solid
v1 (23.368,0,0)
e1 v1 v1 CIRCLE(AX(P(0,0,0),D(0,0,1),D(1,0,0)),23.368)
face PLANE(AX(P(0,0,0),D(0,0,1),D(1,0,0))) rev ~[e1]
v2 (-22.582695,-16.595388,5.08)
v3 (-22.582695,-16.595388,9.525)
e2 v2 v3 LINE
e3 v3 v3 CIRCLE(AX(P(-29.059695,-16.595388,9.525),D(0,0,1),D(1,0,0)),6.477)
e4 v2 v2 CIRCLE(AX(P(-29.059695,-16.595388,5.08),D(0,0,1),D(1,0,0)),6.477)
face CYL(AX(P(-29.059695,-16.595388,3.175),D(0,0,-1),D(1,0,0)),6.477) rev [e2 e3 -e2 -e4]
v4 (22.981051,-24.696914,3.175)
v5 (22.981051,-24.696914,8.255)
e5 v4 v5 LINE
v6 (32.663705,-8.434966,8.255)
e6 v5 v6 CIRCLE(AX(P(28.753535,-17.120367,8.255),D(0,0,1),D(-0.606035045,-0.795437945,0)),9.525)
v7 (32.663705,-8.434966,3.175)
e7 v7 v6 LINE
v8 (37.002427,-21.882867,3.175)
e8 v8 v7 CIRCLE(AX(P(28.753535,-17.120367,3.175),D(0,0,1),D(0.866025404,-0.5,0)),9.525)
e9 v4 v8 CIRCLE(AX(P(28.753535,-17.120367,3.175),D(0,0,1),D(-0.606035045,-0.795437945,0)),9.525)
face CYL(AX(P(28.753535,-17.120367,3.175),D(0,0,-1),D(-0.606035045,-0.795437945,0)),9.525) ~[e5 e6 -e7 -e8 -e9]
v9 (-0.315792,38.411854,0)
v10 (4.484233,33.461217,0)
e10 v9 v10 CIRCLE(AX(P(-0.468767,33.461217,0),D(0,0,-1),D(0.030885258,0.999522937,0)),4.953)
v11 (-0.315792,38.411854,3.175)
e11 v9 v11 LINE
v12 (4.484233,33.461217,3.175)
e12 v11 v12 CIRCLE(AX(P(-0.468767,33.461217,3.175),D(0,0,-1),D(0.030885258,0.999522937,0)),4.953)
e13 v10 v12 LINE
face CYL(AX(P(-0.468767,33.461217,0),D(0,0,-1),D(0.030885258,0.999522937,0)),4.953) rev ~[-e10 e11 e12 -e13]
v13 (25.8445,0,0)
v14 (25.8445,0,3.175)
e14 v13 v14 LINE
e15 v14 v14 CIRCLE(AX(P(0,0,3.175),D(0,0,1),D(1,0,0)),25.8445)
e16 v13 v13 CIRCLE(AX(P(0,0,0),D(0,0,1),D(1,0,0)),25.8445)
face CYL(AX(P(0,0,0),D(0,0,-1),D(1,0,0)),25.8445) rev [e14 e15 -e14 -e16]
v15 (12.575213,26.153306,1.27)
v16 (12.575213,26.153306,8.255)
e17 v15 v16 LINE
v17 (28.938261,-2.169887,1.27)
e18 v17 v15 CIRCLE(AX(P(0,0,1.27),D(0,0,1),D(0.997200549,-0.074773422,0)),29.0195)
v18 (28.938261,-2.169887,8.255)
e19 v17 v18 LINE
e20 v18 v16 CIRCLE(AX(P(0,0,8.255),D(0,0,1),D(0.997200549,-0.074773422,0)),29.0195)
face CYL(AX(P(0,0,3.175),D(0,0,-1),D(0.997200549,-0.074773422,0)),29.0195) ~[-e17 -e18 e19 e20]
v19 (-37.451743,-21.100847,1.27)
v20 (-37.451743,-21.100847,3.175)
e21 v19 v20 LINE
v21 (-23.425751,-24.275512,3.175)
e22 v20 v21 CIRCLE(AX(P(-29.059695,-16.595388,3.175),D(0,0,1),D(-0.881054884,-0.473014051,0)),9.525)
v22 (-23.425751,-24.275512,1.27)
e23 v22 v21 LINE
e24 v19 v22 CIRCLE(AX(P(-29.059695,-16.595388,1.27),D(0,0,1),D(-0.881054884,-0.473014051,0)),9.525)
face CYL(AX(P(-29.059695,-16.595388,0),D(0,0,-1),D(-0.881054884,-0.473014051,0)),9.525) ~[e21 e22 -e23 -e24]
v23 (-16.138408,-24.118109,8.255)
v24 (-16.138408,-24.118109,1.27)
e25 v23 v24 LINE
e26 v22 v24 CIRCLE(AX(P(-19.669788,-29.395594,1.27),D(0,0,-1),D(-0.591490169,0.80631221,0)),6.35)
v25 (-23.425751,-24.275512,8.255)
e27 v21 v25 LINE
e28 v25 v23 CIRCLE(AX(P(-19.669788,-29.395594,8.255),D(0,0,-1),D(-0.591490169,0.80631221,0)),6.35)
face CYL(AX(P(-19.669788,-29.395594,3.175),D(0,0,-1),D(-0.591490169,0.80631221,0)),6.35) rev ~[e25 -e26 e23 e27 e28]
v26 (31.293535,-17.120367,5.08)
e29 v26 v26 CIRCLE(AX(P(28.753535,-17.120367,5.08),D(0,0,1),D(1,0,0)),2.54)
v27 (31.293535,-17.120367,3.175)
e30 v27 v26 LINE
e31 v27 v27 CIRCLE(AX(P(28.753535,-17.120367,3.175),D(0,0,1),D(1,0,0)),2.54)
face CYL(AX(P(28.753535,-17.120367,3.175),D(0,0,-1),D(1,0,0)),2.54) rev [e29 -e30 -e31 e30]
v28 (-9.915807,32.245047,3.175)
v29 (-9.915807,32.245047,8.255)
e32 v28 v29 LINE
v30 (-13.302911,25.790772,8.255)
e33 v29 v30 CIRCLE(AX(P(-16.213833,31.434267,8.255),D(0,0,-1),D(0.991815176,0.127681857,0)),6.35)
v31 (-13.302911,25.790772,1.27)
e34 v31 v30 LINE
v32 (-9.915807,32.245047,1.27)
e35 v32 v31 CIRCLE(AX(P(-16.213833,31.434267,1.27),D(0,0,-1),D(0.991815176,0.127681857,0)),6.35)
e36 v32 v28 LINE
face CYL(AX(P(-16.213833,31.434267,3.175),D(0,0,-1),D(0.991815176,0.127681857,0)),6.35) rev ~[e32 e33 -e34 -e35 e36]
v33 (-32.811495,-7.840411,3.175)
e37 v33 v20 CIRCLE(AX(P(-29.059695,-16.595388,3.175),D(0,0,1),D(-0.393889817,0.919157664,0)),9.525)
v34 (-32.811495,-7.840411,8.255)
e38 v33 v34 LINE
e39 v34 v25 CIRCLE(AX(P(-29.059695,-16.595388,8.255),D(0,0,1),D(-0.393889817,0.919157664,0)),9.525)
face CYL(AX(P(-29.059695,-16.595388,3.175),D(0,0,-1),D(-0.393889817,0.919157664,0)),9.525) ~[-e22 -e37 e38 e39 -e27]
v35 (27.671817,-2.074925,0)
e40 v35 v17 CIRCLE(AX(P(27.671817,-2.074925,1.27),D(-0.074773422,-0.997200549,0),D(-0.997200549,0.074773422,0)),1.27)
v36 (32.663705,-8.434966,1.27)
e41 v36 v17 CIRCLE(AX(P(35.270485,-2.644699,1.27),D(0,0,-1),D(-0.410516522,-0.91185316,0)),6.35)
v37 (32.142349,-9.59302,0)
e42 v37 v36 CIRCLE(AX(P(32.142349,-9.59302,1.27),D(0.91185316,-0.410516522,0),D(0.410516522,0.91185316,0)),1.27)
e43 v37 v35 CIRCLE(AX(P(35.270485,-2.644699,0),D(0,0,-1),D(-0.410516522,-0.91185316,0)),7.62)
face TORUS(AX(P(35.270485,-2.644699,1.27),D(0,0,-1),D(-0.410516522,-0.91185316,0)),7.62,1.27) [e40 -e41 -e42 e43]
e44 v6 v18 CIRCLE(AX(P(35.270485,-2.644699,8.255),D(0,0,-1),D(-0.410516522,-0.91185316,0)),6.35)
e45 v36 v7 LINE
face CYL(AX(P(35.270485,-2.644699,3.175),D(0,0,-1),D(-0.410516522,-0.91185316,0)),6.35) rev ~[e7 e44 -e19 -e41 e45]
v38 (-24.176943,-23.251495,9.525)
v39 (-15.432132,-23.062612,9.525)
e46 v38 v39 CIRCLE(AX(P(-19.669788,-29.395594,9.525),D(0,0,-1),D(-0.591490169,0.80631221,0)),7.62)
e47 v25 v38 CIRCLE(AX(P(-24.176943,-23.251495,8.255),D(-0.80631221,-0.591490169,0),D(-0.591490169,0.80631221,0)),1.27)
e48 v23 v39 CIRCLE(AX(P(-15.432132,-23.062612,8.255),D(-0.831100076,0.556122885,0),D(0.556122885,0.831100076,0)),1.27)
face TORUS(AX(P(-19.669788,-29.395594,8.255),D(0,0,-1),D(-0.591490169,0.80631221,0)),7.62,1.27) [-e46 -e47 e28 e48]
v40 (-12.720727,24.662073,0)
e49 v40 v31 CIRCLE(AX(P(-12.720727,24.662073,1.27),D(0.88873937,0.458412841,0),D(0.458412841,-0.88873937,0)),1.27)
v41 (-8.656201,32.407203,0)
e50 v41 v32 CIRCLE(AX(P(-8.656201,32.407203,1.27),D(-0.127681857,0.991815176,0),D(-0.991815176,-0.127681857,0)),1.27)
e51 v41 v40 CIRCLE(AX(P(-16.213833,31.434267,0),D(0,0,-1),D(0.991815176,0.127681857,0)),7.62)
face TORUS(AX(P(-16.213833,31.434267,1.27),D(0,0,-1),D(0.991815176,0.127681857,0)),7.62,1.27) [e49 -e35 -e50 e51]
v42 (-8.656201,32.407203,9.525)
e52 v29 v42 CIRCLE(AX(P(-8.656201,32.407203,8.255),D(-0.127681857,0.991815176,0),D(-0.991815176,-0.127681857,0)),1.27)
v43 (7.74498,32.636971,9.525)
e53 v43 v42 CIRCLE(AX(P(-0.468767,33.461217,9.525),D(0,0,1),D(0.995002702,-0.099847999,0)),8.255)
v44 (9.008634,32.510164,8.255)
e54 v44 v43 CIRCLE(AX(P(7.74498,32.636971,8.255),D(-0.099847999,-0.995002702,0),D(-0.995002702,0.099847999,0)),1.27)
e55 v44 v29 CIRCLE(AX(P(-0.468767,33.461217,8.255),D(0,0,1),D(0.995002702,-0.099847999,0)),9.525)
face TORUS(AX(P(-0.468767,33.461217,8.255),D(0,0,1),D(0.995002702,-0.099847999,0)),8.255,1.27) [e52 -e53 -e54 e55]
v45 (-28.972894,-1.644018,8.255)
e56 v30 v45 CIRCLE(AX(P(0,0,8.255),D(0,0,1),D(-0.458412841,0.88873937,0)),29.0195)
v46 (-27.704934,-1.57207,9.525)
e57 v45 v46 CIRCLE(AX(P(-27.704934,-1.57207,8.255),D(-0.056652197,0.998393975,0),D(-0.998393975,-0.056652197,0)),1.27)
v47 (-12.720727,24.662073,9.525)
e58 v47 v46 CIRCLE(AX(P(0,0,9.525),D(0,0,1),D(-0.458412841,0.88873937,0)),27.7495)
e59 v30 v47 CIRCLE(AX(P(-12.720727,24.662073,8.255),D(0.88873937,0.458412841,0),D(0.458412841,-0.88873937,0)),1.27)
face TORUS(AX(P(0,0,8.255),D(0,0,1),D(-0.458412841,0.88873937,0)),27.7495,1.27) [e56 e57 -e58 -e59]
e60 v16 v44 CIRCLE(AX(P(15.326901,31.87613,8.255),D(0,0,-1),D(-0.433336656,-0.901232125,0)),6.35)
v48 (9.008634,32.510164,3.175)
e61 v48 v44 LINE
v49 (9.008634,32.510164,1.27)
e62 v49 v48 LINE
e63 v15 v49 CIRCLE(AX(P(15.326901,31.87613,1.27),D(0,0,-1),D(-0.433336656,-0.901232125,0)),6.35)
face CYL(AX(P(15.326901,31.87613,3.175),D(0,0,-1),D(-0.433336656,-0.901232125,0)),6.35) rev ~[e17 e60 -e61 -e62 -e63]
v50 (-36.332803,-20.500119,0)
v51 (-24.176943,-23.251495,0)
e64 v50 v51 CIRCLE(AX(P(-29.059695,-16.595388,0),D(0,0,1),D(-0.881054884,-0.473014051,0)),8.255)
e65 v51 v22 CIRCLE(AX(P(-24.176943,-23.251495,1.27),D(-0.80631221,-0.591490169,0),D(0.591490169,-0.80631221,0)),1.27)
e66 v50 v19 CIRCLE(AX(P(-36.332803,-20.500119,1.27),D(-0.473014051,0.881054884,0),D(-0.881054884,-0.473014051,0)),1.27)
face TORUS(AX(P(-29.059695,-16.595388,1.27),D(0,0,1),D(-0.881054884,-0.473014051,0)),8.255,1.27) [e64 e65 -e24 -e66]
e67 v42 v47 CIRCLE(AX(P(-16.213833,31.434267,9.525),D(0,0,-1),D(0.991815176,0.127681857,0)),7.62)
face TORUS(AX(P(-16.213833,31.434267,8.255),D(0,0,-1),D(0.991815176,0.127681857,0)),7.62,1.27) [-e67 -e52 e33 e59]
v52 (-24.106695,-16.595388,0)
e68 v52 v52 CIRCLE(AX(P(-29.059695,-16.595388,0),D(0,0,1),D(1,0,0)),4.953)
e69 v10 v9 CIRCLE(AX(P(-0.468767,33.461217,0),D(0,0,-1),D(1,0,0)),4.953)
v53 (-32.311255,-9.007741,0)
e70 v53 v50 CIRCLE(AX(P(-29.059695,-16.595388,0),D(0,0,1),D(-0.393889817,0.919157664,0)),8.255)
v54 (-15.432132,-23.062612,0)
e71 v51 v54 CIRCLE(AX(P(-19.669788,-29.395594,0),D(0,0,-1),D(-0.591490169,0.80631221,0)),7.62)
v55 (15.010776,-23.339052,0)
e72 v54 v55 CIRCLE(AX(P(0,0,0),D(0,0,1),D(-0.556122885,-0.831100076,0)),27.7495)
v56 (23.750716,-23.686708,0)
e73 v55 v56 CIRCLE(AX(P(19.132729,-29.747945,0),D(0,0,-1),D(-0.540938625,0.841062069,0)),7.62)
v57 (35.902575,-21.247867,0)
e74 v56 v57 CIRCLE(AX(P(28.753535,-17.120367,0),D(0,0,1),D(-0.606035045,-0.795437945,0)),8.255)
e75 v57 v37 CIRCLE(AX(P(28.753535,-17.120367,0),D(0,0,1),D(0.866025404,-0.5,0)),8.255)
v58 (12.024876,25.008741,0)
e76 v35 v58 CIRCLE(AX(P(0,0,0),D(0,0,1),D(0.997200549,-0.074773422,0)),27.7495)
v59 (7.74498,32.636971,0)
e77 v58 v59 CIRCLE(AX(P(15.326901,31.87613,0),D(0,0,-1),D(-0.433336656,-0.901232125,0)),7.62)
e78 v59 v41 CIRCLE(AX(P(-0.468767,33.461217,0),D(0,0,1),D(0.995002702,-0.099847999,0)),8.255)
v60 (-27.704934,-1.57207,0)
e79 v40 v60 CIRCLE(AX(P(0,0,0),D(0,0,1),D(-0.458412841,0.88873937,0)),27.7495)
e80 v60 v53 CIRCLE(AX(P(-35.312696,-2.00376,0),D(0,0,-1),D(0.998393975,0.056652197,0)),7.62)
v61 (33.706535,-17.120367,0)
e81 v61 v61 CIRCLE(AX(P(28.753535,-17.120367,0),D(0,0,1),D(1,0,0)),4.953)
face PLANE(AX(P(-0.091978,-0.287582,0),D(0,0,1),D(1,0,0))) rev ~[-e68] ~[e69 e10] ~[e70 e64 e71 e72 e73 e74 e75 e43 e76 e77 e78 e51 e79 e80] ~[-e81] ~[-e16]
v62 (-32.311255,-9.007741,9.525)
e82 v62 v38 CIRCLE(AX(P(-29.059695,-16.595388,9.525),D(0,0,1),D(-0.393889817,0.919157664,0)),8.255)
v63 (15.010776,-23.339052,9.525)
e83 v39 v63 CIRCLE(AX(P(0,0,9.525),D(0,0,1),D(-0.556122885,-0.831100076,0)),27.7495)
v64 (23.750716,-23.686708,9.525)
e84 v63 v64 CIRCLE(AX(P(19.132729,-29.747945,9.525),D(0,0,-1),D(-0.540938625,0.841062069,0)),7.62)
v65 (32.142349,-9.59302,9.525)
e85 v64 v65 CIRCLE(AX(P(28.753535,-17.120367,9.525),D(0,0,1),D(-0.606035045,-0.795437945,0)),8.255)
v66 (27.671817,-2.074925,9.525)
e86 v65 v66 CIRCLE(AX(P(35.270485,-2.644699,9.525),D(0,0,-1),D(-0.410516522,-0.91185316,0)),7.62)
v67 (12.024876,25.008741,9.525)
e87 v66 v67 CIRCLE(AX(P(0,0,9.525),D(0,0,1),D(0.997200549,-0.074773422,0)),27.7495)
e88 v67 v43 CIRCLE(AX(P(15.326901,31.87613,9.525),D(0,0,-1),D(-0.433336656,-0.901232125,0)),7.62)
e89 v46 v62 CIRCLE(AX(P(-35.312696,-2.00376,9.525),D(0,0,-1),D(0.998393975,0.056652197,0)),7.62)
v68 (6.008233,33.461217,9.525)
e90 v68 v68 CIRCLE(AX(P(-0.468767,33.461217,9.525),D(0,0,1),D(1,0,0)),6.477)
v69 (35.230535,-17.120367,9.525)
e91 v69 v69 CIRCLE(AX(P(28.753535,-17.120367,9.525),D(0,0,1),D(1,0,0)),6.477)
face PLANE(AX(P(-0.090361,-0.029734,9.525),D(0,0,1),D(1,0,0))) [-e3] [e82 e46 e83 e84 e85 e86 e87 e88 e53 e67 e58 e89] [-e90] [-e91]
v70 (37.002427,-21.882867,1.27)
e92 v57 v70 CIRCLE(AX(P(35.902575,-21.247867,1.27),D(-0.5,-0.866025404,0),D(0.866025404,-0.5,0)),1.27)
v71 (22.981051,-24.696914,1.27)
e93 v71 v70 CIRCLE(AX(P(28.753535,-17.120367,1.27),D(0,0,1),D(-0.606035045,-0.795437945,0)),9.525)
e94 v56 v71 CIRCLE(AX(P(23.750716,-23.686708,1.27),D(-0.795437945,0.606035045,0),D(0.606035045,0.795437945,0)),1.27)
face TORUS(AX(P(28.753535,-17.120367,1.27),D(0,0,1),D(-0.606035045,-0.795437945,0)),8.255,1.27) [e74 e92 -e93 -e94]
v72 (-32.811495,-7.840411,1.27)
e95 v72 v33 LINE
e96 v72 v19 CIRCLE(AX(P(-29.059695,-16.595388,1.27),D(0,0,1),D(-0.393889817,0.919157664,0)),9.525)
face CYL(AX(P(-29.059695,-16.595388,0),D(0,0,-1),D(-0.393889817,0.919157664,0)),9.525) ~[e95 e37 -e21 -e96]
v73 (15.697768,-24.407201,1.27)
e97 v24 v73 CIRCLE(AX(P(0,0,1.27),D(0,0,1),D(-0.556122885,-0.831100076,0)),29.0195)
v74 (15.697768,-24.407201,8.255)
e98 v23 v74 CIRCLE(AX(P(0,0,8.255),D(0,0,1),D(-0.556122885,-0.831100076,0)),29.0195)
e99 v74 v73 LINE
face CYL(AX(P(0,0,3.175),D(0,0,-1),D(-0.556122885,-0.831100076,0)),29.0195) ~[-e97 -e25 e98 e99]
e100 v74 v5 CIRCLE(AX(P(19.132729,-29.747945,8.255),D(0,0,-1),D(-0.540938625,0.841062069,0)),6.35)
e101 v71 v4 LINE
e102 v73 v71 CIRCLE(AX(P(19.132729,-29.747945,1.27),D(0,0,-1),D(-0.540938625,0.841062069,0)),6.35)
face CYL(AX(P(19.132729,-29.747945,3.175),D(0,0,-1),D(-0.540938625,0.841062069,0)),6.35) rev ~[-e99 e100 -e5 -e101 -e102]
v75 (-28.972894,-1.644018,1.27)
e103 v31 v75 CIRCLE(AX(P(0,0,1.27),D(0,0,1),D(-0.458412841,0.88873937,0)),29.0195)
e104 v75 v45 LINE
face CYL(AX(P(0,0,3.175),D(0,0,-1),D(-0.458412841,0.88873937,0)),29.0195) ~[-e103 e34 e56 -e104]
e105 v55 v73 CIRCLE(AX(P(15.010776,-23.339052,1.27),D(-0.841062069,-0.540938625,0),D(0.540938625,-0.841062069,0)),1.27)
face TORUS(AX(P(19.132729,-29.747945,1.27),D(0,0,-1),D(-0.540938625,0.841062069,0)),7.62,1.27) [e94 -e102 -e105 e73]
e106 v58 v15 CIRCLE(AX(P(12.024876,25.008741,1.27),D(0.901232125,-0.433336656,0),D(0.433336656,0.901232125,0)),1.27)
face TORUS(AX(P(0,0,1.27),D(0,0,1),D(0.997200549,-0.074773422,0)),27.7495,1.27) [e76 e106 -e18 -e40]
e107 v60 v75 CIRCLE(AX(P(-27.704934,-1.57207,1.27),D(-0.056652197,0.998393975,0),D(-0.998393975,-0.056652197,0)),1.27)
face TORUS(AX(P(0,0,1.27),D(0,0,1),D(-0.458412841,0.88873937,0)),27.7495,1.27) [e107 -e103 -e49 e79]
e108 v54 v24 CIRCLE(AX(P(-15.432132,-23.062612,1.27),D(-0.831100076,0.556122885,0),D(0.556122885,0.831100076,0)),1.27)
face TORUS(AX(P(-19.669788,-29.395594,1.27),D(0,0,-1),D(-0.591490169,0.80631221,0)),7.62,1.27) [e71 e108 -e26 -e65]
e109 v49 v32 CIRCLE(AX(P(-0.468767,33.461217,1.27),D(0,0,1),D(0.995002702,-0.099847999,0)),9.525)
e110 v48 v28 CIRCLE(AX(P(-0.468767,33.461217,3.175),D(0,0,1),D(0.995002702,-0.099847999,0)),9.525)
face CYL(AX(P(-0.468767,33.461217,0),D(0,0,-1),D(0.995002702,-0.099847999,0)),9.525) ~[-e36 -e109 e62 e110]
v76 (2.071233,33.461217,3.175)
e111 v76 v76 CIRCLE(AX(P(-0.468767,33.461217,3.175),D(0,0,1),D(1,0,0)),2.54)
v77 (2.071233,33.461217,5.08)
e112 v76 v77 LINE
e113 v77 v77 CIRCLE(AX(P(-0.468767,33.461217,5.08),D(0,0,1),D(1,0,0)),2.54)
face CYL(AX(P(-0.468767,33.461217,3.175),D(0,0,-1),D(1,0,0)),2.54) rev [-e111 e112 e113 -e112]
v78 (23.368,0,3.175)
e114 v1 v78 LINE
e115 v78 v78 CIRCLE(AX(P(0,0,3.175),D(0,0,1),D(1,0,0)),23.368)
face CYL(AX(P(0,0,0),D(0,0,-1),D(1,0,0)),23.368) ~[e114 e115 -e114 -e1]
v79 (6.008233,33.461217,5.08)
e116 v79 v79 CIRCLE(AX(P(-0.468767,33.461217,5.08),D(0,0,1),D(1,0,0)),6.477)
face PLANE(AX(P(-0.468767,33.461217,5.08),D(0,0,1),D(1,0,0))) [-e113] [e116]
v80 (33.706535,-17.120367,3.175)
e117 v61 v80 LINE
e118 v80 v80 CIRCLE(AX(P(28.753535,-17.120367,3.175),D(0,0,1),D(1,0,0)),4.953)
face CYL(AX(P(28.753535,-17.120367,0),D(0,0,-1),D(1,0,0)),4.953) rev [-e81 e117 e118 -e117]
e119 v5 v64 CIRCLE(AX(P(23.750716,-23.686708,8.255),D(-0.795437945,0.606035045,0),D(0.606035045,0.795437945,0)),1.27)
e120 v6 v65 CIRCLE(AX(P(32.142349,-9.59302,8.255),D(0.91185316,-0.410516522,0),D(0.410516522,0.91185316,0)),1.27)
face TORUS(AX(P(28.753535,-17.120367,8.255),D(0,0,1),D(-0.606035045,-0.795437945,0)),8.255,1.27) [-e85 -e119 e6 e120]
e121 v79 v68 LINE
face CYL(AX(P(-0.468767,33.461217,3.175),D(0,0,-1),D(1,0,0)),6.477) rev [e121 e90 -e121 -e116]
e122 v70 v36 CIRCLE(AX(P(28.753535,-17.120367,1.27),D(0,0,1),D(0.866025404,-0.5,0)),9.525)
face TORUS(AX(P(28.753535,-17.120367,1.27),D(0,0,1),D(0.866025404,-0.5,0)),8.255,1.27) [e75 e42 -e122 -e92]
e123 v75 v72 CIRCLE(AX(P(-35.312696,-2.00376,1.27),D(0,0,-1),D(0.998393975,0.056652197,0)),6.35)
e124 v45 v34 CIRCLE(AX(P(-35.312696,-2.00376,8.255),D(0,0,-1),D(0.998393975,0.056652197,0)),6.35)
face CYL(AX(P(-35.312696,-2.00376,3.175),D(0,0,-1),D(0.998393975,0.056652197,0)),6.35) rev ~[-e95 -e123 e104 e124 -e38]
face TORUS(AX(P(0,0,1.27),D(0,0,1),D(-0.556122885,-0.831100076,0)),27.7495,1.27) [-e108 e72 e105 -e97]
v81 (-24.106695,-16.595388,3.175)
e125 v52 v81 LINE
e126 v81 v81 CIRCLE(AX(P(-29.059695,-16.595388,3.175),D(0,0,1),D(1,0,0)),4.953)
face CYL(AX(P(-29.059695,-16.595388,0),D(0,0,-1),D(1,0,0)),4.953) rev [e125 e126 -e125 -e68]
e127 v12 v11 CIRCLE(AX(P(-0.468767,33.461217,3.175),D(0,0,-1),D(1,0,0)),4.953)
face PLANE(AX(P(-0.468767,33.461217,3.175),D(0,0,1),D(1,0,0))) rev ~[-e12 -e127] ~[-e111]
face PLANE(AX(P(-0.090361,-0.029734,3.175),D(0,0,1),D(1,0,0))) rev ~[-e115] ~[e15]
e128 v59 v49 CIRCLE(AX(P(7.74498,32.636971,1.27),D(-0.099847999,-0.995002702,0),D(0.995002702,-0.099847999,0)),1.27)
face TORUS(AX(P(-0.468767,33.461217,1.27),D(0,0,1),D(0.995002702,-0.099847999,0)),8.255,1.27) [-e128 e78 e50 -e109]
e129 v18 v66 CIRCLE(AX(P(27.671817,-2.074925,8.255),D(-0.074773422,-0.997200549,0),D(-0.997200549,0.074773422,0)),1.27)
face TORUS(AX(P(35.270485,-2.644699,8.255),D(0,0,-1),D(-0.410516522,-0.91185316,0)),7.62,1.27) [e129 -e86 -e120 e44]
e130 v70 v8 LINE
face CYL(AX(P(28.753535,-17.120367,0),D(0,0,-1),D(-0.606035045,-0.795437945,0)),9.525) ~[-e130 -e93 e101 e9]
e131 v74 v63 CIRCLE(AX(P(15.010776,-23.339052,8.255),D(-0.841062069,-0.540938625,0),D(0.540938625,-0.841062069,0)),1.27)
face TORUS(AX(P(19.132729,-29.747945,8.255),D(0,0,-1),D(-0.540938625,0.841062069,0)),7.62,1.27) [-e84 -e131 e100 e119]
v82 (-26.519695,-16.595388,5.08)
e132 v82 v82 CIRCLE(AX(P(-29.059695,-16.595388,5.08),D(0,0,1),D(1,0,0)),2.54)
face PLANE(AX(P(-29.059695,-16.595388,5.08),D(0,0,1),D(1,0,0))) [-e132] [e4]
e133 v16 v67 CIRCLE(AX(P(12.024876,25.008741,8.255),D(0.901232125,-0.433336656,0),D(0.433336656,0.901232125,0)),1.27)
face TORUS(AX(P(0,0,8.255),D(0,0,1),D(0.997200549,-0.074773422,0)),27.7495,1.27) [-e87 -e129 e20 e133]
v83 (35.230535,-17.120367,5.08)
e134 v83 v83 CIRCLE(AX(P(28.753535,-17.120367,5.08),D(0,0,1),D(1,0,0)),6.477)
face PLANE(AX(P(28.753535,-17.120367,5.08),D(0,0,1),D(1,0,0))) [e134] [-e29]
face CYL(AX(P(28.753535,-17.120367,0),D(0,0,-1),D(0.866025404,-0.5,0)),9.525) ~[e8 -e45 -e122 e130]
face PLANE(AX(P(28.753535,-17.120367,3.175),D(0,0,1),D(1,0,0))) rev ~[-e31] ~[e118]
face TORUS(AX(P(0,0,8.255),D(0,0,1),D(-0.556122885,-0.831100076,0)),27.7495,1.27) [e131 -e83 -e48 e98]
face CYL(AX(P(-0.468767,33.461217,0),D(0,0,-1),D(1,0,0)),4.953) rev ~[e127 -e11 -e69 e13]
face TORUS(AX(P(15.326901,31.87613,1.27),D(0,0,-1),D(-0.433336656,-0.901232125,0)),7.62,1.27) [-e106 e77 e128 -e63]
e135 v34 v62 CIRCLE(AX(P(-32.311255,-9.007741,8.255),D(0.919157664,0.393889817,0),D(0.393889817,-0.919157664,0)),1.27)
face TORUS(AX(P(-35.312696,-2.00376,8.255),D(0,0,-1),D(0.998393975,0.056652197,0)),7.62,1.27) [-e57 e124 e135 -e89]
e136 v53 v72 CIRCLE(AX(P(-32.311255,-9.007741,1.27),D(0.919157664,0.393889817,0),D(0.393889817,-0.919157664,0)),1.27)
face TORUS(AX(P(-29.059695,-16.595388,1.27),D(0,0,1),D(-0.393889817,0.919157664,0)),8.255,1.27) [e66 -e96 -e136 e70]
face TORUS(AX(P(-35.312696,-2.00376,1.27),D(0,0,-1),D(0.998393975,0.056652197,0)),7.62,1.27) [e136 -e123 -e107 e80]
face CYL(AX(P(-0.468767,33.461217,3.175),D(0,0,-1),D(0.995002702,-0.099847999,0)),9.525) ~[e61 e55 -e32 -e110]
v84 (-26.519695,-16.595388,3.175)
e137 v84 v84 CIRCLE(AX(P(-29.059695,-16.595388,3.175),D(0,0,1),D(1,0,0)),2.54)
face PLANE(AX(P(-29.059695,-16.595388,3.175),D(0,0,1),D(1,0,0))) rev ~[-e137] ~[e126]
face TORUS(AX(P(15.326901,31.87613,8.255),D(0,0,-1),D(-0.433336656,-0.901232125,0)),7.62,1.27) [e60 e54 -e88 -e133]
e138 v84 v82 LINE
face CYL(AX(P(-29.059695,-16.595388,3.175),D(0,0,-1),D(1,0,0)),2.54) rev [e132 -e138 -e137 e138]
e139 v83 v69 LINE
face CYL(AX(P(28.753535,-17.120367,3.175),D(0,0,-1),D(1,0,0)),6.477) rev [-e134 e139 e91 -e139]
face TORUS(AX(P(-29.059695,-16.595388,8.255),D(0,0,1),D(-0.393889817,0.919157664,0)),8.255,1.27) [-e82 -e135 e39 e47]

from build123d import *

# Parameters (mm, degrees)
F0_R     = 4.953
F0_R_2   = 25.8445
F1_DEPTH = 3.175
F0_R_3   = 23.368
F2_R     = 6.477
F2_R_2   = 25.8445
F2_R_3   = 23.368
F3_DEPTH = 6.35
F4_R     = 1.27
F5_R     = 6.477
F5_R_2   = 2.54
F5_R_3   = 4.953
F6_DEPTH = 1.905


with BuildPart() as f1:
    # F0 (on Top) → F1 (new body)
    with BuildSketch(Plane.XY):
        with BuildLine():
            ThreePointArc((9.0086336869, 32.5101644312), (6.6925232298, 39.7414671346), (-0.1745849704, 42.9816725916))
            ThreePointArc((-0.1745849704, 42.9816725916), (-7.5230198534, 39.8614621147), (-9.915806602, 32.2450469325))
            ThreePointArc((-9.915806602, 32.2450469325), (-10.5910581964, 28.4835208203), (-13.3029114312, 25.7907721424))
            ThreePointArc((-13.3029114312, 25.7907721424), (-25.1987671044, 14.3928286542), (-28.9728939466, -1.6440184341))
            ThreePointArc((-28.9728939466, -1.6440184341), (-29.9145802905, -5.3478367664), (-32.8114953448, -7.8404110537))
            ThreePointArc((-32.8114953448, -7.8404110537), (-38.0501370204, -13.4493467555), (-37.4517426006, -21.1008466367))
            ThreePointArc((-37.4517426006, -21.1008466367), (-31.1624094368, -25.8853940649), (-23.425750972, -24.2755116042))
            ThreePointArc((-23.425750972, -24.2755116042), (-19.8069132279, -23.0470748777), (-16.1384080748, -24.1181086543))
            ThreePointArc((-16.1384080748, -24.1181086543), (-0.2635040397, -29.0183036353), (15.6977684287, -24.4072007123))
            ThreePointArc((15.6977684287, -24.4072007123), (19.3851183264, -23.4029626225), (22.9810512364, -24.6969139027))
            ThreePointArc((22.9810512364, -24.6969139027), (30.6277985436, -26.4591447743), (37.0024270158, -21.8828674809))
            ThreePointArc((37.0024270158, -21.8828674809), (37.8184238404, -14.1957450912), (32.6637049126, -8.4349661312))
            ThreePointArc((32.6637049126, -8.4349661312), (29.812532046, -5.8901956712), (28.9382613371, -2.1698873323))
            ThreePointArc((28.9382613371, -2.1698873323), (25.1275337964, 14.5168324906), (12.5752130811, 26.153305646))
            ThreePointArc((12.5752130811, 26.153305646), (9.7889920361, 28.7690303444), (9.0086336869, 32.5101644312))
        make_face()
        with Locations((-29.0596948338, -16.5953878056)):
            Circle(F0_R, mode=Mode.SUBTRACT)
        with Locations((28.7535350448, -17.1203674809)):
            Circle(F0_R, mode=Mode.SUBTRACT)
        Circle(F0_R_2, mode=Mode.SUBTRACT)
        with BuildLine():
            ThreePointArc((4.4842329497, 33.4612166202), (-4.0247403768, 30.0134256316), (-0.3157923687, 38.4118537253))
            ThreePointArc((-0.3157923687, 38.4118537253), (3.0872062762, 36.9090076088), (4.4842329497, 33.4612166202))
        make_face(mode=Mode.SUBTRACT)
    extrude(amount=F1_DEPTH)



with BuildPart() as f1b:
    # F0 (on Top) → F1, piece 2 (new body)
    with BuildSketch(Plane.XY):
        Circle(F0_R_3)
    extrude(amount=F1_DEPTH)


with BuildPart() as f1_1:
    add(f1.part)

    add(f1b.part)  # F3 merges F1b
    # F2 (on face) → F3 (join)
    with BuildSketch(Plane.XY.offset(3.175)):
        with BuildLine():
            ThreePointArc((15.6977684287, -24.4072007123), (19.3851183264, -23.4029626225), (22.9810512364, -24.6969139027))
            ThreePointArc((22.9810512364, -24.6969139027), (36.9376531789, -21.9933373521), (32.6637049126, -8.4349661312))
            ThreePointArc((32.6637049126, -8.4349661312), (29.812532046, -5.8901956712), (28.9382613371, -2.1698873323))
            ThreePointArc((28.9382613371, -2.1698873323), (25.1275337964, 14.5168324906), (12.5752130811, 26.153305646))
            ThreePointArc((12.5752130811, 26.153305646), (9.7889920361, 28.7690303444), (9.0086336869, 32.5101644312))
            ThreePointArc((9.0086336869, 32.5101644312), (-0.6021922069, 42.9852820718), (-9.915806602, 32.2450469325))
            ThreePointArc((-9.915806602, 32.2450469325), (-10.5910581964, 28.4835208203), (-13.3029114312, 25.7907721424))
            ThreePointArc((-13.3029114312, 25.7907721424), (-25.1987671044, 14.3928286542), (-28.9728939466, -1.6440184341))
            ThreePointArc((-28.9728939466, -1.6440184341), (-29.9145802905, -5.3478367664), (-32.8114953448, -7.8404110537))
            ThreePointArc((-32.8114953448, -7.8404110537), (-37.3309552229, -21.3189327218), (-23.425750972, -24.2755116042))
            ThreePointArc((-23.425750972, -24.2755116042), (-19.8069132279, -23.0470748777), (-16.1384080748, -24.1181086543))
            ThreePointArc((-16.1384080748, -24.1181086543), (-0.2635040397, -29.0183036353), (15.6977684287, -24.4072007123))
        make_face()
        with Locations((-29.0596948338, -16.5953878056)):
            Circle(F2_R, mode=Mode.SUBTRACT)
        with Locations((28.7535350448, -17.1203674809)):
            Circle(F2_R, mode=Mode.SUBTRACT)
        Circle(F2_R_2, mode=Mode.SUBTRACT)
        with Locations((-0.4687670503, 33.4612166202)):
            Circle(F2_R, mode=Mode.SUBTRACT)
        Circle(F2_R_2)
        Circle(F2_R_3, mode=Mode.SUBTRACT)
        Circle(F2_R_3)
    extrude(amount=F3_DEPTH)

    # F4
    f4_edges = [f1_1.edges().sort_by_distance(p)[0] for p in [
        (-0.602192, 42.985282, 0),
        (-19.806913, -23.047075, 9.525),
    ]]
    fillet(f4_edges, radius=F4_R)

    # F5 (on face) → F6 (join)
    with BuildSketch(Plane.XY.offset(3.175)):
        with Locations((-0.4687670503, 33.4612166202)):
            Circle(F5_R)
        with Locations((-0.4687670503, 33.4612166202)):
            Circle(F5_R_2, mode=Mode.SUBTRACT)
        with Locations((-29.0596948338, -16.5953878056)):
            Circle(F5_R)
        with Locations((-29.0596948338, -16.5953878056)):
            Circle(F5_R_3, mode=Mode.SUBTRACT)
        with Locations((-29.0596948338, -16.5953878056)):
            Circle(F5_R_3)
        with Locations((-29.0596948338, -16.5953878056)):
            Circle(F5_R_2, mode=Mode.SUBTRACT)
        with Locations((28.7535350448, -17.1203674809)):
            Circle(F5_R)
        with Locations((28.7535350448, -17.1203674809)):
            Circle(F5_R_2, mode=Mode.SUBTRACT)
    extrude(amount=F6_DEPTH)


solid = f1_1.part
